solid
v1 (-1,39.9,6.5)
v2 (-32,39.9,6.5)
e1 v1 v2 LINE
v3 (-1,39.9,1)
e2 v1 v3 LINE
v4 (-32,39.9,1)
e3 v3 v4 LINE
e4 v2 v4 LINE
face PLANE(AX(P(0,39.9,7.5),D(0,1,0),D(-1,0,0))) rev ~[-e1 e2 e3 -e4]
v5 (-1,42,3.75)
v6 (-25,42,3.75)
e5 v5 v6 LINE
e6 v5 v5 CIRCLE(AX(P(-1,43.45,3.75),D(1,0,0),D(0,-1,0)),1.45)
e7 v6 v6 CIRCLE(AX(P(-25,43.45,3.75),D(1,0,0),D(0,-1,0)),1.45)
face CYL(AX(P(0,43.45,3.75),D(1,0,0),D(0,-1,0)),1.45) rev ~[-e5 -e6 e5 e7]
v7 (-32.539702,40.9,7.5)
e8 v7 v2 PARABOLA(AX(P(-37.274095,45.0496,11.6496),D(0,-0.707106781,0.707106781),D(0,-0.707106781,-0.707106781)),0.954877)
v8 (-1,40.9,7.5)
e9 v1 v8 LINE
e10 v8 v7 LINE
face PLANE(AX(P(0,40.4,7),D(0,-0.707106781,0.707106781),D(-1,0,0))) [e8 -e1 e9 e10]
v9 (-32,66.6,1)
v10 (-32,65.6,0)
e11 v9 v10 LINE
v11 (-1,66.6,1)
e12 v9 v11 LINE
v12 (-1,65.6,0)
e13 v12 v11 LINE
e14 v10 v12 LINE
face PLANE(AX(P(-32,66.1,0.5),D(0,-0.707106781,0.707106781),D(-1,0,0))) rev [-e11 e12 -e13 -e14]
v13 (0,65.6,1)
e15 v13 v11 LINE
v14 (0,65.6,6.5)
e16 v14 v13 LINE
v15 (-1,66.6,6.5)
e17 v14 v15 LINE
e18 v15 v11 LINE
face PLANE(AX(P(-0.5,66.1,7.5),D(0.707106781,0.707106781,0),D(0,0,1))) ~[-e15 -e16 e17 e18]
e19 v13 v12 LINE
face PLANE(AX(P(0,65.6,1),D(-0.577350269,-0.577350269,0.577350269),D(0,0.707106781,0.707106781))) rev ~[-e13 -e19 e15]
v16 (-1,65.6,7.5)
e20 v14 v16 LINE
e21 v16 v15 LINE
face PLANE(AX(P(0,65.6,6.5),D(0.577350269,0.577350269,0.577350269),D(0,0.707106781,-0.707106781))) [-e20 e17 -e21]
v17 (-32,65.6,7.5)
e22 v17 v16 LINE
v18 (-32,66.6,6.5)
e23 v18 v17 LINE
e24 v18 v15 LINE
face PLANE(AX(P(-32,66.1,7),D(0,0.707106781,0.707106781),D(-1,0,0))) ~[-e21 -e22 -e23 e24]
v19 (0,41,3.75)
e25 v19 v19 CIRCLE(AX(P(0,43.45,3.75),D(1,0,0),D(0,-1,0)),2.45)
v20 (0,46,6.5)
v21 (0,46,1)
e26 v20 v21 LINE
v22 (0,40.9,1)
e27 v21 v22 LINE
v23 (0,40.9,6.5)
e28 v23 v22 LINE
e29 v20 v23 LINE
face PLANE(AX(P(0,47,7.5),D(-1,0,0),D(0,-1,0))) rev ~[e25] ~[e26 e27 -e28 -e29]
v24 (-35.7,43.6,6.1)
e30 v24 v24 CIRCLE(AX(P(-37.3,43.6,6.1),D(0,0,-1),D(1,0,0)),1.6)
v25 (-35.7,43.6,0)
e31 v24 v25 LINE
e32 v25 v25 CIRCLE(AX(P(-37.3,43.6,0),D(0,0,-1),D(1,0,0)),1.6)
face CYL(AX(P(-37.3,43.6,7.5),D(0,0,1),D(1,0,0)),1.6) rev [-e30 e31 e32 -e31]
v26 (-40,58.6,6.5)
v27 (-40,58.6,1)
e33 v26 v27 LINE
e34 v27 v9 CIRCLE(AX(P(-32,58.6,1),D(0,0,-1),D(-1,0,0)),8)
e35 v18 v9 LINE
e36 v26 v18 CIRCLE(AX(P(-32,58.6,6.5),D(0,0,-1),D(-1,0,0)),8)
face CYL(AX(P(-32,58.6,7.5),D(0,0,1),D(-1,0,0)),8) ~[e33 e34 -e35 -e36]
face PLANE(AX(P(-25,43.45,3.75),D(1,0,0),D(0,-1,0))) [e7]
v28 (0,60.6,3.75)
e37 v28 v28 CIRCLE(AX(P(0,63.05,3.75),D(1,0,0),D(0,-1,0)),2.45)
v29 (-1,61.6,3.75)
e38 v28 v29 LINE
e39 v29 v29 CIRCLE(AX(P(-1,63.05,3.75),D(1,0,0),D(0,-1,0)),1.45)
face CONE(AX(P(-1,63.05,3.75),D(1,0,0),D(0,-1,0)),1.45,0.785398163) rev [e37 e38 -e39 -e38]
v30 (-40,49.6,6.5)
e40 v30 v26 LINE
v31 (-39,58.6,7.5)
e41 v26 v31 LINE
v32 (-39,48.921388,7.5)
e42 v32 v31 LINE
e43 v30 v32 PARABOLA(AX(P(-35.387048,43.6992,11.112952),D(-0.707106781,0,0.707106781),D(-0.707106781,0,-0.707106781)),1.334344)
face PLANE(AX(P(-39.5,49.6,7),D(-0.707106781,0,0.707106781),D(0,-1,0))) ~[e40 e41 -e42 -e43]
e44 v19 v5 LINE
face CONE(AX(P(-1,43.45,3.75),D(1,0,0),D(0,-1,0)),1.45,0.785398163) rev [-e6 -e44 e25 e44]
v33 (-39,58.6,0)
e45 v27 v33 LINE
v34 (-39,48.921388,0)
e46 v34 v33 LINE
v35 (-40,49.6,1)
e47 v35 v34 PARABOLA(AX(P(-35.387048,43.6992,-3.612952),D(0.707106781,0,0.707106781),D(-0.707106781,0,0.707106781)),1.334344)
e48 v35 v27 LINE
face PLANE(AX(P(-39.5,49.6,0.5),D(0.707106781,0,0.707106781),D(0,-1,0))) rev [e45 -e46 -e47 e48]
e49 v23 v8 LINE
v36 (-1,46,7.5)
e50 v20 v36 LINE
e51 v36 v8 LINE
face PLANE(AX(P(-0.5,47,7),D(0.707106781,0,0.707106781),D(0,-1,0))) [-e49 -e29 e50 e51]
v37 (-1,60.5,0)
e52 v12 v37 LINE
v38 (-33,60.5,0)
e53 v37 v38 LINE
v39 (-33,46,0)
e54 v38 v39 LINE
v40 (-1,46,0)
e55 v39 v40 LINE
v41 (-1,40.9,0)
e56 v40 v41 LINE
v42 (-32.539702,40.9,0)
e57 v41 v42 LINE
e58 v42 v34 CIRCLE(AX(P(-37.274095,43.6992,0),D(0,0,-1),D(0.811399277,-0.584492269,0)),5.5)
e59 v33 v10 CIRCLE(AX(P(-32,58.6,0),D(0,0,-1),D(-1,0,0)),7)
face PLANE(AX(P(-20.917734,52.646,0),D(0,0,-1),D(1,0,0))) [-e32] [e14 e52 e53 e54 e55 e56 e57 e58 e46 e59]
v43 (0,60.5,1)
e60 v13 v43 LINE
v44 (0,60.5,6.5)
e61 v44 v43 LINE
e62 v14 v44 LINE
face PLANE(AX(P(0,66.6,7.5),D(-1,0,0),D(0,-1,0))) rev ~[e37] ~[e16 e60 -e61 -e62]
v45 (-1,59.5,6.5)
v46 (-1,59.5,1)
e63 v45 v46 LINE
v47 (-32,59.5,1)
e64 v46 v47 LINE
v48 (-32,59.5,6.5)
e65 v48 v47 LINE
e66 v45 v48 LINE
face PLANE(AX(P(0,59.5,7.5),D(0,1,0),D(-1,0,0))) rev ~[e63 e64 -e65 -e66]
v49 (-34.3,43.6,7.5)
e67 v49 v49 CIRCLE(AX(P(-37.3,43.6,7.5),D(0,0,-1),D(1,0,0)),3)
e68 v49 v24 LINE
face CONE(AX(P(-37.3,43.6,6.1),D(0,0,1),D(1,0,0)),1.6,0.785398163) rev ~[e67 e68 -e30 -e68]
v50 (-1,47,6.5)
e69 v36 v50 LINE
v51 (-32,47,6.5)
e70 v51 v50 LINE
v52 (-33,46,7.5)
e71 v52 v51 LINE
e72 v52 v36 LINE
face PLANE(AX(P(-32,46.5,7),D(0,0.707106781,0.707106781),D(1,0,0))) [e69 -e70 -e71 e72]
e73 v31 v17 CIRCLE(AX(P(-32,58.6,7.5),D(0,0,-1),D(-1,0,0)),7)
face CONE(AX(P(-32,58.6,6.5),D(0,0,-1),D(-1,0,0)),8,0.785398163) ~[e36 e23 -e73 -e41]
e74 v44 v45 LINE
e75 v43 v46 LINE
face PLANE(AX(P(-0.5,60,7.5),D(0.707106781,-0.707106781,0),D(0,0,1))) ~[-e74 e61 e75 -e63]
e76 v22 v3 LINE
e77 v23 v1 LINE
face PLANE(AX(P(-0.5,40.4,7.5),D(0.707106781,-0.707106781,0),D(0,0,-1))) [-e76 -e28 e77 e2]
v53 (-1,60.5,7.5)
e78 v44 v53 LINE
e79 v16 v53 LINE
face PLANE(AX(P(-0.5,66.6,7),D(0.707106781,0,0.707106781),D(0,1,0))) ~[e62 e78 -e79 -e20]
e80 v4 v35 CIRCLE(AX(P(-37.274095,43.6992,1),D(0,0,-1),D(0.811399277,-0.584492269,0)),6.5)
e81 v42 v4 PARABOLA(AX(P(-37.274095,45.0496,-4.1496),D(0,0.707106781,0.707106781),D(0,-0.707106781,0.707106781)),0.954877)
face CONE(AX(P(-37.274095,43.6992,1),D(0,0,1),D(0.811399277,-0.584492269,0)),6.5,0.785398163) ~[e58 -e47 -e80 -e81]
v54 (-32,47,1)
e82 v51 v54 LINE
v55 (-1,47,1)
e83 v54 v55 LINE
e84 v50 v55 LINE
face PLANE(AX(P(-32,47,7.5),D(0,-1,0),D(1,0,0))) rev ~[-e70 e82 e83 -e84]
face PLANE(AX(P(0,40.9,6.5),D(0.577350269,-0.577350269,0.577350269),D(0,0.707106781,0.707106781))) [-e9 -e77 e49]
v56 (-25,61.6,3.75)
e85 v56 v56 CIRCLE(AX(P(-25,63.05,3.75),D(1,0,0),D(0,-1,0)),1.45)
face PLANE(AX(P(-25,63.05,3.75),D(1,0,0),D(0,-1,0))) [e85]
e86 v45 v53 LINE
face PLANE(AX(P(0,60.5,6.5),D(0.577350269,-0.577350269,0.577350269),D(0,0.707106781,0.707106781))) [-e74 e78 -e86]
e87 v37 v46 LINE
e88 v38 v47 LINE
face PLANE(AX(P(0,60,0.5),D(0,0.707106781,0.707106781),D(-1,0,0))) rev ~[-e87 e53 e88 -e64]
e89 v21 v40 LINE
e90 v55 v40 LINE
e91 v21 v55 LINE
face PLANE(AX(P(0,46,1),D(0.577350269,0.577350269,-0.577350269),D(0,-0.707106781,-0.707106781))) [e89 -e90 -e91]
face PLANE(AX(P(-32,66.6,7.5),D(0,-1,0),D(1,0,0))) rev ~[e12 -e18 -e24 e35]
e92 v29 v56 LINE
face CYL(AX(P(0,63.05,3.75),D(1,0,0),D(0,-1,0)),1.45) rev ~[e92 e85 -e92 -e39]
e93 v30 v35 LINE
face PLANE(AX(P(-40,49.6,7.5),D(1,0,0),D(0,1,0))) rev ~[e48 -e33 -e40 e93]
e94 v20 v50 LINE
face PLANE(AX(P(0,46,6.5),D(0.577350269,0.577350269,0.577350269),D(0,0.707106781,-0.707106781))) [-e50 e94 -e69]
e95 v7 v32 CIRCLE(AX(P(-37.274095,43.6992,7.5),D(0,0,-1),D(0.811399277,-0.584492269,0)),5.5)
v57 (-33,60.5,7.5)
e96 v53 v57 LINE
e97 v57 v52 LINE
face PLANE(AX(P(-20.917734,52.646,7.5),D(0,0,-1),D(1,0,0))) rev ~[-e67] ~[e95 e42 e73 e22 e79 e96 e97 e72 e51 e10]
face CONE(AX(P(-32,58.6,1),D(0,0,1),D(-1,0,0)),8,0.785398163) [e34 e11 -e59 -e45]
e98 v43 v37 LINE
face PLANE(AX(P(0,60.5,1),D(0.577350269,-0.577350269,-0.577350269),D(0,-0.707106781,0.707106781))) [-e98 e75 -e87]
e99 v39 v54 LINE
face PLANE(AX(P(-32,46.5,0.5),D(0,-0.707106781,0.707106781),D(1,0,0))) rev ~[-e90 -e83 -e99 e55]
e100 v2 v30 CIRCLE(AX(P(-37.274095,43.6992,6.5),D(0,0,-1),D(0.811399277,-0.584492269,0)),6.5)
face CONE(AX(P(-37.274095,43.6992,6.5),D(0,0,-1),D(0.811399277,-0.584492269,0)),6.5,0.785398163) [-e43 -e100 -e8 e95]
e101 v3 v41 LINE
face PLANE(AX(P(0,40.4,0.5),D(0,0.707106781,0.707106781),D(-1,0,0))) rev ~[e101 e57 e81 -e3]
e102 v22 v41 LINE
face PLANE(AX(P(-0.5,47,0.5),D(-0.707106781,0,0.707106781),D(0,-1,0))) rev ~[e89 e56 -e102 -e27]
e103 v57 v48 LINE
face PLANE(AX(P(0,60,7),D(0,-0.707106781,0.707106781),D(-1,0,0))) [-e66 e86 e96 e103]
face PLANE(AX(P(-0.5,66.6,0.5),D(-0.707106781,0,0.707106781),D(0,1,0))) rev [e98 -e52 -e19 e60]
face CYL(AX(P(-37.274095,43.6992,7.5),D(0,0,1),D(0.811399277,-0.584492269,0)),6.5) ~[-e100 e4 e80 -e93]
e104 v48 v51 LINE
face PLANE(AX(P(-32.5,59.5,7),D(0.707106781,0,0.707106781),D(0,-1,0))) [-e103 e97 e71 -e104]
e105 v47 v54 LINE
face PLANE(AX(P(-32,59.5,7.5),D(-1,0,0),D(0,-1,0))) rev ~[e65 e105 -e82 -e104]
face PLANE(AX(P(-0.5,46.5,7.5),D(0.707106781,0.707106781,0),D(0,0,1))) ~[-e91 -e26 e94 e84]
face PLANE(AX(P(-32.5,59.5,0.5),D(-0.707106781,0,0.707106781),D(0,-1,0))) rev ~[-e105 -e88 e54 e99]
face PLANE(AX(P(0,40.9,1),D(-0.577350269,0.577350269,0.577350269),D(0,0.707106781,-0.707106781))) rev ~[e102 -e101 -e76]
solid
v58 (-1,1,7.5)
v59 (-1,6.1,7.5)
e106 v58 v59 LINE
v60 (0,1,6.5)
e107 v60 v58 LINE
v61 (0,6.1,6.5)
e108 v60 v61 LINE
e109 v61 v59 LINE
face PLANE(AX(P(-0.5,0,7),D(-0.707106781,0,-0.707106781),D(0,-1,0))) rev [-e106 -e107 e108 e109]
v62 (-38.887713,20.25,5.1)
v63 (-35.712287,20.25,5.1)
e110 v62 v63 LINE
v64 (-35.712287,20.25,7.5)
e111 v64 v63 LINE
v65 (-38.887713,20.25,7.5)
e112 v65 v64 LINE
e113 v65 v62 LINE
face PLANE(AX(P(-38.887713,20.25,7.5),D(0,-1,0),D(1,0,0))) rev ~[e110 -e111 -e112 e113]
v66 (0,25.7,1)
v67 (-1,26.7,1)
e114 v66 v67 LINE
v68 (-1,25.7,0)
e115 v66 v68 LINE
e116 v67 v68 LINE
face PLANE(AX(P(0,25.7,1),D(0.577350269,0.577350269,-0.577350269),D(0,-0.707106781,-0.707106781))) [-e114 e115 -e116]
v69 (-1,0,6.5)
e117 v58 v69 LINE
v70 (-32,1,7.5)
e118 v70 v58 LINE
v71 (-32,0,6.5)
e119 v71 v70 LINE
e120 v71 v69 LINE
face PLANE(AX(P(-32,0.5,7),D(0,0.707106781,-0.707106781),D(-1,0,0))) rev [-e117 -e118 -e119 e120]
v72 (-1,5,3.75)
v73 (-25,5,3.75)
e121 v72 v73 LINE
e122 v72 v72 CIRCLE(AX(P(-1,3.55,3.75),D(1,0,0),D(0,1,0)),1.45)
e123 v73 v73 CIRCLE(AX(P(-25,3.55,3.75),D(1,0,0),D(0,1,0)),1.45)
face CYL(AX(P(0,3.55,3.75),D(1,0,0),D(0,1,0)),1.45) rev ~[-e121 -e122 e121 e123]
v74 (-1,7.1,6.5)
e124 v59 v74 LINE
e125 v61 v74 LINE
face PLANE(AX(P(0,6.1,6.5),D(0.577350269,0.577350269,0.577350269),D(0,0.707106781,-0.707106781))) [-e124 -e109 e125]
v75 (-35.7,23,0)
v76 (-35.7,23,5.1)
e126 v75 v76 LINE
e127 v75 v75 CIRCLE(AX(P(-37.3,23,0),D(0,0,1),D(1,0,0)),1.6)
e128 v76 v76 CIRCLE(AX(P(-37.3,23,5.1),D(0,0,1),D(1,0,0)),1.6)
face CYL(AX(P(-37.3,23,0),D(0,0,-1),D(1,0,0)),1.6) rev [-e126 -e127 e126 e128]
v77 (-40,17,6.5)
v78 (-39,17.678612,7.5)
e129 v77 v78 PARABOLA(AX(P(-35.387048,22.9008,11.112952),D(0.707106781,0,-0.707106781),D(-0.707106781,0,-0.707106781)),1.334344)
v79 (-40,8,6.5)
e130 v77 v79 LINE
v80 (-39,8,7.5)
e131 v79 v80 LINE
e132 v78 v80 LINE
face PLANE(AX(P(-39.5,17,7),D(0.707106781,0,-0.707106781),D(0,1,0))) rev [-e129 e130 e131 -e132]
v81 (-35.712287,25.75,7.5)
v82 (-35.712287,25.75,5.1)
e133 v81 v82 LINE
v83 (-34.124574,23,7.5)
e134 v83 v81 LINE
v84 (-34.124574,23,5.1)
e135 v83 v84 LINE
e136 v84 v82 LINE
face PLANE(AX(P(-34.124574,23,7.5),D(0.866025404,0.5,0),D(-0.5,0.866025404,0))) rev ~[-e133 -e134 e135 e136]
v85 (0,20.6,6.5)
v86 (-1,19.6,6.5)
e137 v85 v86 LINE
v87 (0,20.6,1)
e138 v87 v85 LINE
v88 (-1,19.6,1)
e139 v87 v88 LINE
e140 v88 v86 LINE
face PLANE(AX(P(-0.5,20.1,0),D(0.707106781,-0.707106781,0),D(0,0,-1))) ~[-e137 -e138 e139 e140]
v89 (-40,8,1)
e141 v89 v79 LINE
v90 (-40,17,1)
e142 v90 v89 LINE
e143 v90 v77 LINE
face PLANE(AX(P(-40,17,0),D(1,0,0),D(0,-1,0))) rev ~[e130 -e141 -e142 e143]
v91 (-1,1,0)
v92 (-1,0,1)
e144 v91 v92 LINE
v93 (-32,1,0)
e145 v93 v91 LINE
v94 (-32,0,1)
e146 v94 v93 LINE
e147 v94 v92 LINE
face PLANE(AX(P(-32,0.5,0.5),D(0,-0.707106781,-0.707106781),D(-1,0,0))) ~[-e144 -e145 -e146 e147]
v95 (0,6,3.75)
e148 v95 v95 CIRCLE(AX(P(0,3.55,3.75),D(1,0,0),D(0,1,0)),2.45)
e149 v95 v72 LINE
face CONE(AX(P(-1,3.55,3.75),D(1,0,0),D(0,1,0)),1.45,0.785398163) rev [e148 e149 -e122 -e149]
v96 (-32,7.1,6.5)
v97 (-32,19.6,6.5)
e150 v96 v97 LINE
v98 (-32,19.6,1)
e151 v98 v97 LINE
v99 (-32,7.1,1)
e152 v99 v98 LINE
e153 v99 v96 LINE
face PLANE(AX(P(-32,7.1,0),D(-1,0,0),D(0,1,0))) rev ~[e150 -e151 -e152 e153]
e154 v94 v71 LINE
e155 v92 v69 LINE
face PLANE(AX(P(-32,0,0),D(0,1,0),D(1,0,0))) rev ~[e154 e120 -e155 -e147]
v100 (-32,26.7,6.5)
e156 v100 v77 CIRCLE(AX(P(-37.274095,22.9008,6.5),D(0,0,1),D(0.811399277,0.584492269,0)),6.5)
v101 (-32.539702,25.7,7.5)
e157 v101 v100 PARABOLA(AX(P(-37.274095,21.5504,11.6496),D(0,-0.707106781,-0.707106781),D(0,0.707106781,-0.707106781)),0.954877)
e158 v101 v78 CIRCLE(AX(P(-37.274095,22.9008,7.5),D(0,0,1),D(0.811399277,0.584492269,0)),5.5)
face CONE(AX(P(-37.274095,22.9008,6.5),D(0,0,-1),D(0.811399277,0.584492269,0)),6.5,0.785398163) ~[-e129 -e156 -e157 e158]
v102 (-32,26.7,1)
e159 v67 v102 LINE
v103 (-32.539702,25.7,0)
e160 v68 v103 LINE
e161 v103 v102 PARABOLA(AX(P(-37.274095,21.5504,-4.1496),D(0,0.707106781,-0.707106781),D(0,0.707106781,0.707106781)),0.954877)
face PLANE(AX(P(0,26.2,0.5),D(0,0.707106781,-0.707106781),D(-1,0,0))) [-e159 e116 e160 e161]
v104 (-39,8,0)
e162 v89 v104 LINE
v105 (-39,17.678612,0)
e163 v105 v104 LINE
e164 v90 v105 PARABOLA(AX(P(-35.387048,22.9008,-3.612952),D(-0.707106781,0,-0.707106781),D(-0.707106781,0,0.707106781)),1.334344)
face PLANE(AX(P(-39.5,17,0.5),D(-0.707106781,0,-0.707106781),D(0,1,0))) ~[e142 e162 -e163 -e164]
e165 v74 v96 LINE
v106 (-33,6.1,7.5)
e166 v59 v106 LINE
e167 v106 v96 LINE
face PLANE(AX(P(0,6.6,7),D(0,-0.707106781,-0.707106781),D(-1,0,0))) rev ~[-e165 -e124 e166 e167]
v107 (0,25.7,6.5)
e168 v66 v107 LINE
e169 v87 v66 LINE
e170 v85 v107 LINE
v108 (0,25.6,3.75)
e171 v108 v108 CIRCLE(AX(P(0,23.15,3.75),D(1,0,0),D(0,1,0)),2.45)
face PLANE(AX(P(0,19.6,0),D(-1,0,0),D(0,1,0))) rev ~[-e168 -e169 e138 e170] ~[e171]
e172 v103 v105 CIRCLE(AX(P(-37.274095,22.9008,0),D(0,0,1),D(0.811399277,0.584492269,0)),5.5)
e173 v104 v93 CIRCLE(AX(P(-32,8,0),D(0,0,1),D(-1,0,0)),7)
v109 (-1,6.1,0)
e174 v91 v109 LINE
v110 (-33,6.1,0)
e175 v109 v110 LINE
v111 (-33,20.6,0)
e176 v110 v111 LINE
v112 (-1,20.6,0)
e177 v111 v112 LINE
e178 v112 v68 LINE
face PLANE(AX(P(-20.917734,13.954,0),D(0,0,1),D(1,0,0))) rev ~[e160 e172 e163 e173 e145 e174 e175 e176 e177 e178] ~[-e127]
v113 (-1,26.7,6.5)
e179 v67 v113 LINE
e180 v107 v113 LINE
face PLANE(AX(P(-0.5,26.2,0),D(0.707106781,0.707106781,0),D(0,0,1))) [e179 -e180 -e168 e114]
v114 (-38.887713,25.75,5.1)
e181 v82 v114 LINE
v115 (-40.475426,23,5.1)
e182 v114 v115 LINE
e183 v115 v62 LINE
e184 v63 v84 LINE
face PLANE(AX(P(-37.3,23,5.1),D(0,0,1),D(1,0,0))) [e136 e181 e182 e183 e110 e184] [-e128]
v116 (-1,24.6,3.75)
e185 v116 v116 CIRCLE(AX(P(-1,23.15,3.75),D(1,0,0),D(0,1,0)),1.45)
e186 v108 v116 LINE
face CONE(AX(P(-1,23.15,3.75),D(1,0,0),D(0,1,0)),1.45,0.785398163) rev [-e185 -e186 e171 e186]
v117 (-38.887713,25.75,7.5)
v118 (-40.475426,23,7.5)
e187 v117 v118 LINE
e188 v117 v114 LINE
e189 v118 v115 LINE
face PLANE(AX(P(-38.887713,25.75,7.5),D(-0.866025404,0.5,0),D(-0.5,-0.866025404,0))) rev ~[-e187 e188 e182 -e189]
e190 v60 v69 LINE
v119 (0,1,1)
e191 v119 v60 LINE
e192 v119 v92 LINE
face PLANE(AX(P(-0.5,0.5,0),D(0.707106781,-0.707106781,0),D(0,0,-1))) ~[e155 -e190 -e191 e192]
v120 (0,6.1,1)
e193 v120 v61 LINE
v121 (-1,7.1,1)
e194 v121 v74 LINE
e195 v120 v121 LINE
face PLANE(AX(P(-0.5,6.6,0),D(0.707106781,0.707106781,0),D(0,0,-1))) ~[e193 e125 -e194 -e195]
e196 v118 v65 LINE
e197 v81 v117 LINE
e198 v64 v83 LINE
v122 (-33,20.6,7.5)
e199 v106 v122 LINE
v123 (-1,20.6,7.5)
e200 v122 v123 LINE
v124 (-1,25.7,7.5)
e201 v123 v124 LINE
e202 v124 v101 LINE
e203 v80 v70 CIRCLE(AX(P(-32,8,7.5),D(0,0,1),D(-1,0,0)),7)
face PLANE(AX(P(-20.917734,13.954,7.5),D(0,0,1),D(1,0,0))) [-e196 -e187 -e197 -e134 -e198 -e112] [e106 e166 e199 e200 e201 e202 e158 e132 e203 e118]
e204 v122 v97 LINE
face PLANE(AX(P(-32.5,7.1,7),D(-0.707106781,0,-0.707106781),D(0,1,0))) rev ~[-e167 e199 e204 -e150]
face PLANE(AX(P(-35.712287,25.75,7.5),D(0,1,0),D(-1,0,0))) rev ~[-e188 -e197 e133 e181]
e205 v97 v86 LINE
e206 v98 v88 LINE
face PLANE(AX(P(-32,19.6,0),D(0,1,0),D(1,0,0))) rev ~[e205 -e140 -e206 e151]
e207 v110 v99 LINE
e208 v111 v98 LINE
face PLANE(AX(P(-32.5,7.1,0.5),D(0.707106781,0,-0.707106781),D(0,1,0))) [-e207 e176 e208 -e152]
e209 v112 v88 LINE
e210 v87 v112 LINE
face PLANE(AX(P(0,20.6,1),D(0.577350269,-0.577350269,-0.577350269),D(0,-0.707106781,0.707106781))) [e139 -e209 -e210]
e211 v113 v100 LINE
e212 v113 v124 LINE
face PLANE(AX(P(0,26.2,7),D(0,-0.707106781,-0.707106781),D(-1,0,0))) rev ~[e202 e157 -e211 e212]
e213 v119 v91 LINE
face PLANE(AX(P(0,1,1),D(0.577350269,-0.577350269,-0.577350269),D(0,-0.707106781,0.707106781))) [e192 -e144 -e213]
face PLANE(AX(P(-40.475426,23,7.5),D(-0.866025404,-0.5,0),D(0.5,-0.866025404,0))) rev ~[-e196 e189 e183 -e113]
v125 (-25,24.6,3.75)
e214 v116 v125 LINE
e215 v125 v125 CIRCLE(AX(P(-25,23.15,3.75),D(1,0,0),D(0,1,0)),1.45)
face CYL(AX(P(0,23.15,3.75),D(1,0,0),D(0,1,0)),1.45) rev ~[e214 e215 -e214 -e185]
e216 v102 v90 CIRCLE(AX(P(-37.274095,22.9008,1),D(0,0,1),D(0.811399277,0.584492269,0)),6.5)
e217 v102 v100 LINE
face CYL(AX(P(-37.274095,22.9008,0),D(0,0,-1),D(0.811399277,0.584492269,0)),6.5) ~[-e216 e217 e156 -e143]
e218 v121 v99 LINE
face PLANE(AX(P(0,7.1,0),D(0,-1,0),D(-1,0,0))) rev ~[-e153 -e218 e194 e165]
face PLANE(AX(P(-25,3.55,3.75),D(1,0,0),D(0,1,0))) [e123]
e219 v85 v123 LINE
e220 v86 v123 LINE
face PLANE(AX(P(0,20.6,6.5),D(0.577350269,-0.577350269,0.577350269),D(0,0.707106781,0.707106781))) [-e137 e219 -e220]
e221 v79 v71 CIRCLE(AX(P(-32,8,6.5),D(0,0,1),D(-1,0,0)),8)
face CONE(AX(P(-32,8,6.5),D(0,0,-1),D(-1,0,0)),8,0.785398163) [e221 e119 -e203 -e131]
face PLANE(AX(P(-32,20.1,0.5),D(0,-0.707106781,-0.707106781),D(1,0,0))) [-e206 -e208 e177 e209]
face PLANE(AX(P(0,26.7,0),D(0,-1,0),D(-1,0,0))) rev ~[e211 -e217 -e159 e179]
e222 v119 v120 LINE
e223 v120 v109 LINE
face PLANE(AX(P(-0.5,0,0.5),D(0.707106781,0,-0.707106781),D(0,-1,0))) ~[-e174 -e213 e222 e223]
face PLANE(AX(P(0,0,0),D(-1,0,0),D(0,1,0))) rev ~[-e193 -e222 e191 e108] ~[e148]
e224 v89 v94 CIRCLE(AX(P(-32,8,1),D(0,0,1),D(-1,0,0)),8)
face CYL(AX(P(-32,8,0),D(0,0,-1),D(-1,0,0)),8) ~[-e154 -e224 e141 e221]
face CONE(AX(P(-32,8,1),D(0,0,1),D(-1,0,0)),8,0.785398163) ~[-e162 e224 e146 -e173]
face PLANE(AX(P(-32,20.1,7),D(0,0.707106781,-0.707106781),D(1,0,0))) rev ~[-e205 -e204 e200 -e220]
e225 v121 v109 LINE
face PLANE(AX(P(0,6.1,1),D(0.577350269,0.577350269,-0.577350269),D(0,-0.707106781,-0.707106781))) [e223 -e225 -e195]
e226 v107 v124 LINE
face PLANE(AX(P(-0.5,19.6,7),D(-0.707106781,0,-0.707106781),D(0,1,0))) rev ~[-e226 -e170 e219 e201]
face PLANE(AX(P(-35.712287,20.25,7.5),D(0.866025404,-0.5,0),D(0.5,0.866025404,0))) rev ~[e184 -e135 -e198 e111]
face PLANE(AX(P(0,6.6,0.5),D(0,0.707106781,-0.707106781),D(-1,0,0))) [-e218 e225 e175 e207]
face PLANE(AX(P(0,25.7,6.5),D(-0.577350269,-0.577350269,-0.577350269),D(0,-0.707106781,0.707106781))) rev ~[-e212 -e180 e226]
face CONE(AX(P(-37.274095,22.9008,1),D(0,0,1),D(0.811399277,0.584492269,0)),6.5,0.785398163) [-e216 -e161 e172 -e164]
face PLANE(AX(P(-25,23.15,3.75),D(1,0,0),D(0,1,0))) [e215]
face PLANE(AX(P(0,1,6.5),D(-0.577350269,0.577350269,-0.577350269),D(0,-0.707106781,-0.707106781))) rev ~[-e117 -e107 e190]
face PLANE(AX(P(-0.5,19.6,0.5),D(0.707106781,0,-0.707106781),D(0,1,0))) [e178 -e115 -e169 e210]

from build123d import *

# Parameters (mm, degrees)
F0_R     = 1.6
F1_DEPTH = 7.5
F2_R     = 1.45
F3_DEPTH = 25
F4_SIZE  = 1
F6_ANGLE = 180
F7_R     = 1.6
F8_DEPTH = 2.4
F9_SIZE  = 1.4


with BuildPart() as f1:
    # F0 (on Top) → F1 (new body)
    with BuildSketch(Plane.XY):
        with BuildLine():
            Line((-32, 0), (0, 0))
            Line((0, 0), (0, 7.1))
            Line((0, 7.1), (-32, 7.1))
            Line((-32, 7.1), (-32, 19.6))
            Line((-32, 19.6), (0, 19.6))
            Line((0, 19.6), (0, 26.7))
            Line((0, 26.7), (-32, 26.7))
            ThreePointArc((-32, 26.7), (-42.2886559839, 27.0365203991), (-40, 17))
            Line((-40, 17), (-40, 8))
            ThreePointArc((-40, 8), (-37.6568542495, 2.3431457505), (-32, 0))
        make_face()
        with Locations((-37.3, 23)):
            Circle(F0_R, mode=Mode.SUBTRACT)
    extrude(amount=F1_DEPTH)

    # F2 (on face) → F3 (cut)
    with BuildSketch(Plane.YZ):
        with Locations((3.55, 3.75)):
            Circle(F2_R)
        with Locations((23.15, 3.75)):
            Circle(F2_R)
    extrude(amount=-F3_DEPTH, mode=Mode.SUBTRACT)

    # F4
    f4_edges = [f1.edges().sort_by_distance(p)[0] for p in [
        (-16, 0, 7.5),
        (-16, 0, 0),
        (-16, 7.1, 7.5),
        (-16, 7.1, 0),
        (-16, 26.7, 0),
        (-16, 26.7, 7.5),
        (-16, 19.6, 7.5),
        (-16, 19.6, 0),
        (-32, 13.35, 0),
        (-32, 13.35, 7.5),
        (-42.288656, 27.03652, 0),
        (-42.288656, 27.03652, 7.5),
        (0, 26.7, 3.75),
        (0, 23.15, 0),
        (0, 19.6, 3.75),
        (0, 23.15, 7.5),
        (0, 3.55, 7.5),
        (0, 7.1, 3.75),
        (0, 3.55, 0),
        (0, 0, 3.75),
        (0, 2.1, 3.75),
        (0, 21.7, 3.75),
    ]]
    chamfer(f4_edges, length=F4_SIZE)


with BuildPart() as f5_1:
    # F5: copy of F1
    add(f1.part.moved(Location((0, 59.5, 0))))


with BuildPart() as f5_1_1:
    # F6: moved
    add(f5_1.part.rotate(Axis((0, 63.05, 3.75), (1, 0, 0)), F6_ANGLE))

    # F9
    f9_edges = [f5_1_1.edges().sort_by_distance(p)[0] for p in [
        (-38.9, 43.6, 7.5),
    ]]
    chamfer(f9_edges, length=F9_SIZE)


with BuildPart() as f1_1:
    add(f1.part)

    # F7 (on face) → F8 (cut)
    with BuildSketch(Plane.XY.offset(7.5)):
        Polygon((-35.7122867597, 25.75), (-38.8877132403, 25.75), (-40.4754264805, 23), (-38.8877132403, 20.25), (-35.7122867597, 20.25), (-34.1245735195, 23), align=None)
        with Locations((-37.3, 23)):
            Circle(F7_R, mode=Mode.SUBTRACT)
    extrude(amount=-F8_DEPTH, mode=Mode.SUBTRACT)


solid = Compound([f5_1_1.part, f1_1.part])
